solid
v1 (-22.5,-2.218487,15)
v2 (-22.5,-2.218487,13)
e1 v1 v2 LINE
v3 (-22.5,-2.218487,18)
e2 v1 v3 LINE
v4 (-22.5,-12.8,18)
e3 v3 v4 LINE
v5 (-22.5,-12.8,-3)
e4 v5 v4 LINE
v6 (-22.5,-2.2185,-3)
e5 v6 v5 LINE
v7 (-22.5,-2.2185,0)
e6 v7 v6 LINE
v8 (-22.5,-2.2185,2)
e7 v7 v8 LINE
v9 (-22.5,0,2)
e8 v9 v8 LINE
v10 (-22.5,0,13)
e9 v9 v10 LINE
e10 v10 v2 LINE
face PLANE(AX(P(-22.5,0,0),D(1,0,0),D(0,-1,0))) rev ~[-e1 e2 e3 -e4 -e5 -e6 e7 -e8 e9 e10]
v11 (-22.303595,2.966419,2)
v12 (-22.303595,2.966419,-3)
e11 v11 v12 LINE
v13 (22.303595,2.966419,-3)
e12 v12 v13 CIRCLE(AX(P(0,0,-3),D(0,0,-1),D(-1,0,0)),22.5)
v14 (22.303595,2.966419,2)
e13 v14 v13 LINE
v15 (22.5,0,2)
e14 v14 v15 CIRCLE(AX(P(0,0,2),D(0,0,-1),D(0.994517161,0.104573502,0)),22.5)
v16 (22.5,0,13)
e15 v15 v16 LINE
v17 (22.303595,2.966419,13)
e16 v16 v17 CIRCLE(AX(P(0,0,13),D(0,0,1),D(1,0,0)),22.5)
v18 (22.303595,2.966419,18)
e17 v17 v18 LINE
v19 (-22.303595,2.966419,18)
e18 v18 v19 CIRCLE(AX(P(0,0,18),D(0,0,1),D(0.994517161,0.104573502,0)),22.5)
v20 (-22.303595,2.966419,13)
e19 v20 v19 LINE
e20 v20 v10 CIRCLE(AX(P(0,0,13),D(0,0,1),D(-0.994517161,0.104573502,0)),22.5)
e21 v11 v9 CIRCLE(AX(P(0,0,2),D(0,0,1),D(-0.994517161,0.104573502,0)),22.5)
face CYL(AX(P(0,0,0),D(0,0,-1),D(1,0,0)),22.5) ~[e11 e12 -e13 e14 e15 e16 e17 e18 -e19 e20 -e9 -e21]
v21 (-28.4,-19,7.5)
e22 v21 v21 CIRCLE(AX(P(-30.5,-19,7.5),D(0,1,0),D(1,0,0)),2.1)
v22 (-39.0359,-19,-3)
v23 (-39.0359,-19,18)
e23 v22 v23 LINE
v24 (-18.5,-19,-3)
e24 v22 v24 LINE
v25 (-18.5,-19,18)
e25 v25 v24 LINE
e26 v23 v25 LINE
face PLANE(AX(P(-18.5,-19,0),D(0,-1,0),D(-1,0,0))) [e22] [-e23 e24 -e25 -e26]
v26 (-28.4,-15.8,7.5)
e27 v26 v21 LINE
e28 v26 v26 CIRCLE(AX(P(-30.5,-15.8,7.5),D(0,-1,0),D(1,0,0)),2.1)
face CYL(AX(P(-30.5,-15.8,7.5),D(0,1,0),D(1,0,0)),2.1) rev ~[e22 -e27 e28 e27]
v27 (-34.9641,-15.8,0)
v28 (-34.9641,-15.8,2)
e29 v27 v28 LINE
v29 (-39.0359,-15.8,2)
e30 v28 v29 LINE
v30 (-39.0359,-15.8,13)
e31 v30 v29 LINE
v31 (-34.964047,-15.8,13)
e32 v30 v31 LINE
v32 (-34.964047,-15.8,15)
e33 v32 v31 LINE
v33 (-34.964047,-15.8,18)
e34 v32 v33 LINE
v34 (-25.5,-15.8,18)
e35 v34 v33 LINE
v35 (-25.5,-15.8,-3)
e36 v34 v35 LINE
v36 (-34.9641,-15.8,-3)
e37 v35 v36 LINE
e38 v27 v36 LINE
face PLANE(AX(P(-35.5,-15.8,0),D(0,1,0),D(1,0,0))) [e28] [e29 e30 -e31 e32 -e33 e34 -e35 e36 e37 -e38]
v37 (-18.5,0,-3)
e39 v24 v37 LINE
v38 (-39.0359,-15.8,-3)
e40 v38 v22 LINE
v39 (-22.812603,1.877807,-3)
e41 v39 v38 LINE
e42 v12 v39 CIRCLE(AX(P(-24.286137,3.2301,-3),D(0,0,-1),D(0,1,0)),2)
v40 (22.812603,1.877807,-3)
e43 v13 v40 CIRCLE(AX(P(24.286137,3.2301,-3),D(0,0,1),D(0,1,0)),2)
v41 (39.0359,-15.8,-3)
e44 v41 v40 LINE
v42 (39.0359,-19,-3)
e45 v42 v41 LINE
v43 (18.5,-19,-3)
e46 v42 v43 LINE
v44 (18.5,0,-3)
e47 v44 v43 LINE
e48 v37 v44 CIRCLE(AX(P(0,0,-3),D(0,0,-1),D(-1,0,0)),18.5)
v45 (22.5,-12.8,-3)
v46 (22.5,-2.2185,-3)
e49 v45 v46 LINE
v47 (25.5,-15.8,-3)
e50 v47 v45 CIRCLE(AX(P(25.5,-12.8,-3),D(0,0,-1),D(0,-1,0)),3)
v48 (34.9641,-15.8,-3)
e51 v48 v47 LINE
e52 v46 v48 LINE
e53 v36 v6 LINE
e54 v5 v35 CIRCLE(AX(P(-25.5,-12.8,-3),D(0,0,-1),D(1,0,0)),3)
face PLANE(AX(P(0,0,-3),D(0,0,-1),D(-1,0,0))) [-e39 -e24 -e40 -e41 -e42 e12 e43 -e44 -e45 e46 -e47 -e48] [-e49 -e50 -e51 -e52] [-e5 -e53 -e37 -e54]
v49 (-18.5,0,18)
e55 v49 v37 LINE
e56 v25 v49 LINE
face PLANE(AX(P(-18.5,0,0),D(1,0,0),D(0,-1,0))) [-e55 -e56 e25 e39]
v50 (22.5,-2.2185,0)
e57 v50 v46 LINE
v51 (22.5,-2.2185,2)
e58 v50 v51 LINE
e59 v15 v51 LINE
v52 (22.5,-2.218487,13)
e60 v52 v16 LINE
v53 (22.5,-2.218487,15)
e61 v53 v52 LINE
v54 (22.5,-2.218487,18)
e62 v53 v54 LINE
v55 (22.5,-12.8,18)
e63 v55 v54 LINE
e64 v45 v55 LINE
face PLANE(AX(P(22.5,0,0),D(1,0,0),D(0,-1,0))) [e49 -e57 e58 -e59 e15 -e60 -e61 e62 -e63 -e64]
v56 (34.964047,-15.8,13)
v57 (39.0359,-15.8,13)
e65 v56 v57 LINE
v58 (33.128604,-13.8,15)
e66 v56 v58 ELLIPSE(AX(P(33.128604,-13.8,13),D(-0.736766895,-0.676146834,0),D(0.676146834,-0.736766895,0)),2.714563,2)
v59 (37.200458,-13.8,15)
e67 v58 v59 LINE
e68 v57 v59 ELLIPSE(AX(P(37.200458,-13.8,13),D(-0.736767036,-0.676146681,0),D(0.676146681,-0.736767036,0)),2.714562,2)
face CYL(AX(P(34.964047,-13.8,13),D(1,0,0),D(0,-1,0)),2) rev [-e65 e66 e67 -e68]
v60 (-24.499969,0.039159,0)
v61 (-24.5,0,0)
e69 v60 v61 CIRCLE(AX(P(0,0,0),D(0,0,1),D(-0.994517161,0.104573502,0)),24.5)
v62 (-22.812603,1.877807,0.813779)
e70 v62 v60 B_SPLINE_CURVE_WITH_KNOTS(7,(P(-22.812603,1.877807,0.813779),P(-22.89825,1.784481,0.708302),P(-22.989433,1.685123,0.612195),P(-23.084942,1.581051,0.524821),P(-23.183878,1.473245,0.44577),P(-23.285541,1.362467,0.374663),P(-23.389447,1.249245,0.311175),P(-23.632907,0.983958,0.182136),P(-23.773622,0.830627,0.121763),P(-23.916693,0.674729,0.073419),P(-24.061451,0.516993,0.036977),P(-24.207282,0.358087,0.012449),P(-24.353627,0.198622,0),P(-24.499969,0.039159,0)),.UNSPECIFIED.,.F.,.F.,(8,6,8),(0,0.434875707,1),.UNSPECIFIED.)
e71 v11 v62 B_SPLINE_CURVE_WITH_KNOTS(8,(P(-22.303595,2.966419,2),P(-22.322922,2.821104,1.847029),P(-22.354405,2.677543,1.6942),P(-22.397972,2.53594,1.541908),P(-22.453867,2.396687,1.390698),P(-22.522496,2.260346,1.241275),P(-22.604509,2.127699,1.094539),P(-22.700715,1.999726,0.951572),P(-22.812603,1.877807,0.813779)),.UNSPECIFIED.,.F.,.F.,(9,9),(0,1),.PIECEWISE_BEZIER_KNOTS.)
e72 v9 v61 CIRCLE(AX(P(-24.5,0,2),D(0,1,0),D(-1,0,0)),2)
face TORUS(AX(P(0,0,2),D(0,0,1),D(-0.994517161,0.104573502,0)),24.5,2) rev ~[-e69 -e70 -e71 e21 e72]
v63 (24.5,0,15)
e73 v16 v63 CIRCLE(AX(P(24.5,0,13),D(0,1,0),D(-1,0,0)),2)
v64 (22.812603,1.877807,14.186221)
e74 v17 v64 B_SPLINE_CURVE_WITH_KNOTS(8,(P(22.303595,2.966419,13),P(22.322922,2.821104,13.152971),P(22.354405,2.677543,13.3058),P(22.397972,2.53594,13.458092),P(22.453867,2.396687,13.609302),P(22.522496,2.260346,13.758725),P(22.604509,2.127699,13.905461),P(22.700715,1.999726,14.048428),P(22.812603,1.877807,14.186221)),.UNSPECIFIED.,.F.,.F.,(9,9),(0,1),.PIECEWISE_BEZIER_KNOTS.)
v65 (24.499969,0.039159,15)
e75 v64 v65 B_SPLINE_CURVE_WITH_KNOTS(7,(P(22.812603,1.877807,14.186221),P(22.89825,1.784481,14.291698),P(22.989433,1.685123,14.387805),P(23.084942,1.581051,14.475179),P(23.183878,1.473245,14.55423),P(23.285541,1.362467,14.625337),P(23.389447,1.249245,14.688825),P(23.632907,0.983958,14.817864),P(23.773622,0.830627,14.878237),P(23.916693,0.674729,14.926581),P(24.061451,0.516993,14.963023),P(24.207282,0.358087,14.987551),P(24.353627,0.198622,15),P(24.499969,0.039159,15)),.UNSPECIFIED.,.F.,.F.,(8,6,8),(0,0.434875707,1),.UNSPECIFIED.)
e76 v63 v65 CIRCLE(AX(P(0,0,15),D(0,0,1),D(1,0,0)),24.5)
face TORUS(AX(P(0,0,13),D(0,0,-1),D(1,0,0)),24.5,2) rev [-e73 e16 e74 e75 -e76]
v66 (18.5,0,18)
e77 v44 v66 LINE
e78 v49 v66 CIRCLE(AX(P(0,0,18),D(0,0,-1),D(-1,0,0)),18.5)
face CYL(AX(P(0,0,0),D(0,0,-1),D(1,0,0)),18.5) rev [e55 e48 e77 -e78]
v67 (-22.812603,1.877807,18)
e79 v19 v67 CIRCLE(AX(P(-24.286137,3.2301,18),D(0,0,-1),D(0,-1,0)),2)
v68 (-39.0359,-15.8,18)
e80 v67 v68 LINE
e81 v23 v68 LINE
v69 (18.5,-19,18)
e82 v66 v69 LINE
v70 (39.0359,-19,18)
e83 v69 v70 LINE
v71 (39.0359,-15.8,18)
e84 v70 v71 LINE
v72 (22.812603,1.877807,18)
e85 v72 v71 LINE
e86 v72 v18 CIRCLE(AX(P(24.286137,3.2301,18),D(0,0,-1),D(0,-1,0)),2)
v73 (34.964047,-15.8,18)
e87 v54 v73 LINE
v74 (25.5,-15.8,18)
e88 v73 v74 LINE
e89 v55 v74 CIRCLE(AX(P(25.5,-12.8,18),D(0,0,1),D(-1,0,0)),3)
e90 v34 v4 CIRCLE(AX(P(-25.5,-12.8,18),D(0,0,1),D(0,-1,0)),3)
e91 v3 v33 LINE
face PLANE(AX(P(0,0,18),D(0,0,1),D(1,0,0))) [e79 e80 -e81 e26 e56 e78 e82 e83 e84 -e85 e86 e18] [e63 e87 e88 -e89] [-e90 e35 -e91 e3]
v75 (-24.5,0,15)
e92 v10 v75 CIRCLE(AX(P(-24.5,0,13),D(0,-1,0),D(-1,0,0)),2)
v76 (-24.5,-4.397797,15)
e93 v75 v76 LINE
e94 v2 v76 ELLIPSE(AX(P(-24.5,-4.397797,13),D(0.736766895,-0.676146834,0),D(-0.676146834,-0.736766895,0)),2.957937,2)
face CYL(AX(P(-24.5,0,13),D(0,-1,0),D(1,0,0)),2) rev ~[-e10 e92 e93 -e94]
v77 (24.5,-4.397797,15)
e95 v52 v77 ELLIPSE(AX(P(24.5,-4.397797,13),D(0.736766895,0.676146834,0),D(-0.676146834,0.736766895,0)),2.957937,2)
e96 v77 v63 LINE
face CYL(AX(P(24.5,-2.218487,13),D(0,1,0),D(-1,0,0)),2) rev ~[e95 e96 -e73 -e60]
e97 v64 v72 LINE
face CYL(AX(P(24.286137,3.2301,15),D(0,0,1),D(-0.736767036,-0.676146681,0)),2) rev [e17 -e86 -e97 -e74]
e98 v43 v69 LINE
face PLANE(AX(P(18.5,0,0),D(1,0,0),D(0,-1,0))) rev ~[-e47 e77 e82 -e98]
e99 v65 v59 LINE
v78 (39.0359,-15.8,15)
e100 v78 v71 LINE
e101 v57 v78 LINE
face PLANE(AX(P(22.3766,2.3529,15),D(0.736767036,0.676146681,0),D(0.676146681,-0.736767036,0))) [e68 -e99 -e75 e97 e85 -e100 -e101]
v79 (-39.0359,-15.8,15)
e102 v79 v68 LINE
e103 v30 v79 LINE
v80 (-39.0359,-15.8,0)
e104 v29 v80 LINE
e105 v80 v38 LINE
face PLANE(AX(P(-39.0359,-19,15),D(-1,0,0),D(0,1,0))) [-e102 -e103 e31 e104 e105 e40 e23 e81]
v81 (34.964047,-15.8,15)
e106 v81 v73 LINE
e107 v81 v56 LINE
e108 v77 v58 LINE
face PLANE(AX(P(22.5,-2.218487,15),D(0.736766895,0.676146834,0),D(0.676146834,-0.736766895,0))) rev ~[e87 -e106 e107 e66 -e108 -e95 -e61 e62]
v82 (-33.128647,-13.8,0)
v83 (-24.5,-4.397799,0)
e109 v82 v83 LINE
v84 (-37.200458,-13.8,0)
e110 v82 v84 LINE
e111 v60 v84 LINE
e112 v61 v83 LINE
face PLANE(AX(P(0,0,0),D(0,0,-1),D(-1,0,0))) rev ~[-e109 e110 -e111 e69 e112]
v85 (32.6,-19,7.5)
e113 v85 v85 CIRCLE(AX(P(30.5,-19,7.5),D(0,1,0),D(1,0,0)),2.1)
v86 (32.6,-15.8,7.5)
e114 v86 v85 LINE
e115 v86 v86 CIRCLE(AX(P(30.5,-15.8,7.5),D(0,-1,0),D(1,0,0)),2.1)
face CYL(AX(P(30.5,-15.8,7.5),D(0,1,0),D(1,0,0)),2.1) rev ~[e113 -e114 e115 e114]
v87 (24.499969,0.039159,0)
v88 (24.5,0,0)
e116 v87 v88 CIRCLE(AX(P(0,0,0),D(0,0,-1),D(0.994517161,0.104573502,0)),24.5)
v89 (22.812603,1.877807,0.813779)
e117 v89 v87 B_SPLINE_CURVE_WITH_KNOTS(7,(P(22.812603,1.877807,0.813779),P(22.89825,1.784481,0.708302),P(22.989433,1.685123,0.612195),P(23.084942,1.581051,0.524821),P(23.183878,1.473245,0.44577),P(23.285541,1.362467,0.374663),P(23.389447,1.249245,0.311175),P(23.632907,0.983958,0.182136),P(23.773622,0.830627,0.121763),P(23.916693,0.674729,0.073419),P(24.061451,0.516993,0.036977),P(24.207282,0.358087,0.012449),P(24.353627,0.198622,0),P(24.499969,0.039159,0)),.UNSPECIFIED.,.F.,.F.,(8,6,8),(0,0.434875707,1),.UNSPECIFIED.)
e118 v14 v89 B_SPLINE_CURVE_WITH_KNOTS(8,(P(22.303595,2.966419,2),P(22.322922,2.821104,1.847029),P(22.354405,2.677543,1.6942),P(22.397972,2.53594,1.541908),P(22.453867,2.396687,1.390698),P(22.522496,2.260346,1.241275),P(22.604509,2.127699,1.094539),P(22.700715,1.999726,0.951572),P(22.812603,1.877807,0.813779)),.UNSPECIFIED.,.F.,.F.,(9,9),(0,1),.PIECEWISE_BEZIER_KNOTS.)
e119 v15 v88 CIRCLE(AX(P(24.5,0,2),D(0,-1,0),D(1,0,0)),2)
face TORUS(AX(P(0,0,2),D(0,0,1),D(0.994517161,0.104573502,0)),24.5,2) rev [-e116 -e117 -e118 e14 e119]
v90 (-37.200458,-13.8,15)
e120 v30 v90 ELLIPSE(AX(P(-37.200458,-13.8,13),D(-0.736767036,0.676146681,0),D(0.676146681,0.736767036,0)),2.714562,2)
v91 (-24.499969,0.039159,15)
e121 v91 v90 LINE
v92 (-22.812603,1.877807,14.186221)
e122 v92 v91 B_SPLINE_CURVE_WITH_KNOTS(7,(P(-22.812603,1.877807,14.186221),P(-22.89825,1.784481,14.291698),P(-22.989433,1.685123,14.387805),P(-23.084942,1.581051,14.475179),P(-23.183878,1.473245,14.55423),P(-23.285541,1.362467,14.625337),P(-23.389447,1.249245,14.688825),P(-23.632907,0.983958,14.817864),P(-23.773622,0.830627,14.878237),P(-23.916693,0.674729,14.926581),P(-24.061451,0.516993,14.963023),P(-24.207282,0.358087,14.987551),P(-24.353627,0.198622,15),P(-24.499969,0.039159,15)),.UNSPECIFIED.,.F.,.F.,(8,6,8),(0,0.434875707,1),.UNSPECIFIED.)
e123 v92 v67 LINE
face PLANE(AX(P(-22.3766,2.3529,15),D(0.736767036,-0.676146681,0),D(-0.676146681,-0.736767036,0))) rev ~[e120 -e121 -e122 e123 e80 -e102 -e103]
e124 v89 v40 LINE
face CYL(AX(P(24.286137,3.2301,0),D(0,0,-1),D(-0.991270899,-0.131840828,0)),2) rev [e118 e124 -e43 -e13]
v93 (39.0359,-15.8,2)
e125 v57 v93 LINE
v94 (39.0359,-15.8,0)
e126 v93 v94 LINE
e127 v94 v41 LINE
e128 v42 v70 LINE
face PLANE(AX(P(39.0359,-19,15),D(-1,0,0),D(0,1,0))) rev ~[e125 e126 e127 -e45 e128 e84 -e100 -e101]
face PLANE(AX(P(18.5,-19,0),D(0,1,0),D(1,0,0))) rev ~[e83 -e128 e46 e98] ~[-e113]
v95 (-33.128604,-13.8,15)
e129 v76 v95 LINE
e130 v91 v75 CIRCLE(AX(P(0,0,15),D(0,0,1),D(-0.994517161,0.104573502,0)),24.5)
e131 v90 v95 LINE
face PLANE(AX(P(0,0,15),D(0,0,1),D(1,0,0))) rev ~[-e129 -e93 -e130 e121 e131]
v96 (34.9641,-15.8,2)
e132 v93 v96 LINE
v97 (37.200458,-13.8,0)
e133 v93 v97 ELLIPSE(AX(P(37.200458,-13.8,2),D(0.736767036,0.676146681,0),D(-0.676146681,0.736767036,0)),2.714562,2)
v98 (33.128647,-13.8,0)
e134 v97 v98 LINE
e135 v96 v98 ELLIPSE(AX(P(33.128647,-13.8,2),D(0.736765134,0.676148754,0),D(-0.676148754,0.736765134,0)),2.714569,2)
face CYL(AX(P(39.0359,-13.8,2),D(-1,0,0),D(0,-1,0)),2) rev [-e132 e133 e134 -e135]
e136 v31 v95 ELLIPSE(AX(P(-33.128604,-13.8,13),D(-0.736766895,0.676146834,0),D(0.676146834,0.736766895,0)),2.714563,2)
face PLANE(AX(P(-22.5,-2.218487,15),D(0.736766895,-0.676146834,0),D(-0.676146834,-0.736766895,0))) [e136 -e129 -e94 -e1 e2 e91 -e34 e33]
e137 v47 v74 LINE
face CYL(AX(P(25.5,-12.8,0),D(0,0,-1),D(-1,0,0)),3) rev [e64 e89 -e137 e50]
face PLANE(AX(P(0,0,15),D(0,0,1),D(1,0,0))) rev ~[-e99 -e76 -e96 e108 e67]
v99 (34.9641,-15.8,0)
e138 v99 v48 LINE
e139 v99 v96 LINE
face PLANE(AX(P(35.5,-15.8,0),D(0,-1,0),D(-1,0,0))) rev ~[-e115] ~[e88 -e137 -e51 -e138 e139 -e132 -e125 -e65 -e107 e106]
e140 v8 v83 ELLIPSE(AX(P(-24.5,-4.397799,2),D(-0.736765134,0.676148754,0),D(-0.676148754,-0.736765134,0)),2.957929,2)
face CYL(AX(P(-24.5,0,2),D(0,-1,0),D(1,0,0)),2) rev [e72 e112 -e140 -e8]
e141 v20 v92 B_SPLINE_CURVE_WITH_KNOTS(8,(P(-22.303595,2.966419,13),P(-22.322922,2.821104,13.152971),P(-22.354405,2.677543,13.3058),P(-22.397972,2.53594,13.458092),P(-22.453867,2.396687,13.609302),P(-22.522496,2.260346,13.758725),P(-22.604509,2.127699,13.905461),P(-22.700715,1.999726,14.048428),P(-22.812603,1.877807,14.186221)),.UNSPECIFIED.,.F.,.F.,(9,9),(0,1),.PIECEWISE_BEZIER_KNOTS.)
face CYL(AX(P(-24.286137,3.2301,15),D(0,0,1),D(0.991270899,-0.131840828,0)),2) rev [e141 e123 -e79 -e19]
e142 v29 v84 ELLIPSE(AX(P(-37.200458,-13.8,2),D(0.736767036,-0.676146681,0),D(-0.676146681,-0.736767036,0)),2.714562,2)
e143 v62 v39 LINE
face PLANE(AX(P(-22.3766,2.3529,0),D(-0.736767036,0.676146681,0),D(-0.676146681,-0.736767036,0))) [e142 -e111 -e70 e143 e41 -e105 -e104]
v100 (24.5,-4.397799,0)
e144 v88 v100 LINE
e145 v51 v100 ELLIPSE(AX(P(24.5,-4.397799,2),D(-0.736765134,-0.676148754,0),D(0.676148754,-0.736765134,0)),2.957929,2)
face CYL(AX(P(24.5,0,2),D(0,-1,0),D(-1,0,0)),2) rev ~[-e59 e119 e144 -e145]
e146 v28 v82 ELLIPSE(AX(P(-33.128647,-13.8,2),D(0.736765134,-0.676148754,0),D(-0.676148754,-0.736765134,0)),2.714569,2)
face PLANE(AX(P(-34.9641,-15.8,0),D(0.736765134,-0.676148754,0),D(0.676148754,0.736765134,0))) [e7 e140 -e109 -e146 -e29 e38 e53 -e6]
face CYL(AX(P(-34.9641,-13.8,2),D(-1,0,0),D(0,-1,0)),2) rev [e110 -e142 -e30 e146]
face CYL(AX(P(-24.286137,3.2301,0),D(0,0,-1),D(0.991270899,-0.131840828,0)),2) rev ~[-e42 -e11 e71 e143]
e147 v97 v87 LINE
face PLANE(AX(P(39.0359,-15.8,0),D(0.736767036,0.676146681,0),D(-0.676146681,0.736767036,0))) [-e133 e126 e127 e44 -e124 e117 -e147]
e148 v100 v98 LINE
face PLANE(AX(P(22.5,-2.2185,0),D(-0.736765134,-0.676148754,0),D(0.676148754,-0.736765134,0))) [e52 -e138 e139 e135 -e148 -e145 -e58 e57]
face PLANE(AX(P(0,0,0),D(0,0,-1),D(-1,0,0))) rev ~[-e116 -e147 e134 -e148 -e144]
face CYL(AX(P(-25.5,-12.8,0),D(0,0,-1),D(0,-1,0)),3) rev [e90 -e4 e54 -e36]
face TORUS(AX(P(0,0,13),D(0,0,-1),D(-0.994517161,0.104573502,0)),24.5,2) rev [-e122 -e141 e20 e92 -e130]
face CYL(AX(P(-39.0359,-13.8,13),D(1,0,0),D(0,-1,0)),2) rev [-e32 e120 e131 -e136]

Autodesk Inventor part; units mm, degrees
ref_plane "YZ Plane" through (0, 0, 0) normal (1, 0, 0) x (0, 1, 0)
ref_plane "XZ Plane" through (0, 0, 0) normal (0, 1, 0) x (-1, 0, 0)
ref_plane "XY Plane" through (0, 0, 0) normal (0, 0, 1) x (1, 0, 0)
sketch "Эскиз1" plane through (0, 0, 0) normal (0, 0, 1) x (1, 0, 0)
  arc A0 (18.5, 0) -> (-18.5, 0) centre (0, 0) ccw
  line L0 (-22.5, 0) -> (22.5, 0)
  arc A1 (22.5, 0) -> (-22.5, 0) centre (0, 0) ccw
  line L1 (-22.5, 0) -> (-22.5, -12.8)
  line L2 (-22.5, -19) -> (-35.5, -19)
  line L3 (-35.5, -19) -> (-35.5, -15.8)
  line L4 (-35.5, -15.8) -> (-25.5, -15.8)
  arc A2 (-25.5, -15.8) -> (-22.5, -12.8) centre (-25.5, -12.8) ccw
  line L5 (-18.5, 0) -> (-18.5, -19)
  line L6 (-18.5, -19) -> (-22.5, -19)
  line L7 (0, 0) -> (0, 6.7823)
  line L8 (22.5, 0) -> (22.5, -12.8)
  line L9 (22.5, -19) -> (35.5, -19)
  line L10 (35.5, -19) -> (35.5, -15.8)
  line L11 (35.5, -15.8) -> (25.5, -15.8)
  arc A3 (22.5, -12.8) -> (25.5, -15.8) centre (25.5, -12.8) ccw
  line L12 (18.5, 0) -> (18.5, -19)
  line L13 (18.5, -19) -> (22.5, -19)
  dimension "d0" = 37
  dimension "d1" = 45
  dimension "d2" = 13
  dimension "d3" = 3.2
  dimension "d4" = 3
extrude "Выдавливание1" add sketch "Эскиз1" along normal blind 15 contours A0 L0 A1 | L0 L8 A3 L11 L10 L9 L13 L12 | L5 L6 L2 L3 L4 A2 L1 L0
sketch "Эскиз2" plane through (-35.5, -15.8, 0) normal (0, 1, 0) x (1, 0, 0)
  line L0 (71, 0) -> (61, 0) projected
  line L1 (61, 0) -> (61, -15) projected
  line L2 (71, -15) -> (61, -15) projected
  line L3 (71, 0) -> (71, -15) projected
  line L4 (71, -7.5) -> (0, -7.5)
  line L5 (0, 0) -> (0, -15) projected
  line L6 (10, 0) -> (0, 0) projected
  line L7 (10, 0) -> (10, -15) projected
  line L8 (10, -15) -> (0, -15) projected
  line L9 (5, -15) -> (5, 0)
  circle A0 centre (5, -7.5) radius 2.1
  line L10 (35.5, 0) -> (35.5, -25.4)
  circle A1 centre (66, -7.5) radius 2.1
  dimension "d7" = 4.2
extrude "Выдавливание2" cut sketch "Эскиз2" against normal blind 20 contours A1 L4 | L4 A1 | A0 L9 L4 | L4 L9 A0 | L9 A0 L4 | L4 A0 L9
sketch "Эскиз3" plane through (0, 0, 15) normal (0, 0, 1) x (1, 0, 0)
  line L0 (35.5, -15.8) -> (39.0359, -15.8)
  line L1 (22.5, 0) -> (37, -15.8)
  line L2 (21.3948, -1.0142) -> (35.8948, -16.8142)
  line L3 (22.3766, 2.3529) -> (39.0359, -15.8)
  line L4 (-18.5, -19) -> (-18.5, 0) projected
  arc A0 (18.5, 0) -> (-18.5, 0) centre (0, 0) ccw projected
  line L5 (18.5, 0) -> (18.5, -19) projected
  line L6 (18.5, -19) -> (35.5, -19) projected
  line L7 (35.5, -19) -> (35.5, -15.8) projected
  line L8 (35.5, -15.8) -> (25.5, -15.8) projected
  arc A1 (22.5, -12.8) -> (25.5, -15.8) centre (25.5, -12.8) ccw projected
  line L9 (22.5, -12.8) -> (22.5, 0) projected
  arc A2 (22.5, 0) -> (-22.5, 0) centre (0, 0) ccw projected
  line L10 (-22.5, 0) -> (-22.5, -12.8) projected
  arc A3 (-25.5, -15.8) -> (-22.5, -12.8) centre (-25.5, -12.8) ccw projected
  line L11 (-25.5, -15.8) -> (-35.5, -15.8) projected
  line L12 (-35.5, -15.8) -> (-35.5, -19) projected
  line L13 (-35.5, -19) -> (-18.5, -19) projected
  line L14 (39.0359, -15.8) -> (35.5, -15.8)
  line L15 (35.5, -15.8) -> (35.5, -19)
  line L16 (35.5, -19) -> (39.0359, -19)
  line L17 (39.0359, -19) -> (39.0359, -15.8)
  line L18 (0, 0) -> (0, 30.1625)
  line L19 (-35.5, -15.8) -> (-39.0359, -15.8)
  line L20 (-22.5, 0) -> (-37, -15.8)
  line L21 (-21.3948, -1.0142) -> (-35.8948, -16.8142)
  line L22 (-22.3766, 2.3529) -> (-39.0359, -15.8)
  line L23 (-18.5, 0) -> (-18.5, -19)
  line L24 (-18.5, -19) -> (-35.5, -19)
  line L25 (-35.5, -19) -> (-35.5, -15.8)
  line L26 (-35.5, -15.8) -> (-25.5, -15.8)
  arc A4 (-25.5, -15.8) -> (-22.5, -12.8) centre (-25.5, -12.8) ccw
  line L27 (-22.5, -12.8) -> (-22.5, 0)
  line L28 (-39.0359, -15.8) -> (-35.5, -15.8)
  line L29 (-35.5, -15.8) -> (-35.5, -19)
  line L30 (-35.5, -19) -> (-39.0359, -19)
  line L31 (-39.0359, -19) -> (-39.0359, -15.8)
  point P0 (22.5, -2.2185)
  point P1 (34.9641, -15.8)
  point P2 (35.5, -16.384)
  point P3 (-34.9641, -15.8)
  point P4 (-22.5, -2.2185)
  dimension "d11" = 1.5
  dimension "d12" = 1.5
extrude "Выдавливание3" add sketch "Эскиз3" along normal blind 3 contours L8 L2 L9 L1 L0 | L0 L17 L16 L7 | L7 L2 L8 | L1 A2 L3 L0 | L7 L6 L5 A0 L18 A2 L9 A1 L8 L2 | L18 A0 L4 L13 L12 L21 L11 A3 L10 A2 | A2 L20 L19 L22 | L10 L21 L11 L19 L20 | L19 L12 L30 L31 | L21 L12 L11
sketch "Эскиз4" plane through (0, 0, 0) normal (0, 0, -1) x (-1, 0, 0)
  line L0 (18.5, -19) -> (18.5, 0) projected
  line L1 (35.5, -19) -> (18.5, -19) projected
  line L2 (35.5, -15.8) -> (35.5, -19) projected
  line L3 (25.5, -15.8) -> (35.5, -15.8) projected
  arc A0 (22.5, -12.8) -> (25.5, -15.8) centre (25.5, -12.8) ccw projected
  line L4 (22.5, 0) -> (22.5, -12.8) projected
  arc A1 (22.5, 0) -> (-22.5, 0) centre (0, 0) ccw projected
  line L5 (-22.5, -12.8) -> (-22.5, 0) projected
  arc A2 (-25.5, -15.8) -> (-22.5, -12.8) centre (-25.5, -12.8) ccw projected
  line L6 (-35.5, -15.8) -> (-25.5, -15.8) projected
  line L7 (-35.5, -19) -> (-35.5, -15.8) projected
  line L8 (-18.5, -19) -> (-35.5, -19) projected
  line L9 (-18.5, 0) -> (-18.5, -19) projected
  arc A3 (18.5, 0) -> (-18.5, 0) centre (0, 0) ccw projected
  line L10 (-35.5, -19) -> (-35.5, -15.8) projected
  line L11 (-35.5, -15.8) -> (-34.9641, -15.8) projected
  line L12 (-22.5, -2.2185) -> (-34.9641, -15.8) projected
  line L13 (-22.5, -2.2185) -> (-22.5, 0) projected
  arc A4 (-22.3766, 2.3529) -> (-22.5, 0) centre (0, 0) ccw projected
  line L14 (-39.0359, -15.8) -> (-22.3766, 2.3529) projected
  line L15 (-39.0359, -19) -> (-39.0359, -15.8) projected
  line L16 (-35.5, -19) -> (-39.0359, -19) projected
  line L17 (35.5, -15.8) -> (35.5, -19) projected
  line L18 (39.0359, -19) -> (35.5, -19) projected
  line L19 (39.0359, -15.8) -> (39.0359, -19) projected
  line L20 (22.3766, 2.3529) -> (39.0359, -15.8) projected
  arc A5 (22.5, 0) -> (22.3766, 2.3529) centre (0, 0) ccw projected
  line L21 (22.5, 0) -> (22.5, -2.2185) projected
  line L22 (34.9641, -15.8) -> (22.5, -2.2185) projected
  line L23 (34.9641, -15.8) -> (35.5, -15.8) projected
  point P0 (-22.3766, 2.3529)
extrude "Выдавливание4" add sketch "Эскиз4" along normal blind 3 contours L0 A3 L9 L8 L7 L6 A2 L5 A1 L4 A0 L3 L2 L1 | L2 L3 L22 L4 A1 L20 L19 L18 | L16 L15 L14 A1 L5 L12 L6 L7
sketch "Эскиз5" plane through (0, 0, 15) normal (0, 0, -1) x (-1, 0, 0)
  line L0 (-35.5, -19) -> (-35.5, -15.8) projected
  line L1 (-35.5, -15.8) -> (-34.9641, -15.8) projected
  line L2 (-22.5, -2.2185) -> (-34.9641, -15.8) projected
  line L3 (-22.5, -2.2185) -> (-22.5, 0) projected
  arc A0 (-22.3766, 2.3529) -> (-22.5, 0) centre (0, 0) ccw projected
  line L4 (-39.0359, -15.8) -> (-22.3766, 2.3529) projected
  line L5 (-39.0359, -19) -> (-39.0359, -15.8) projected
  line L6 (-35.5, -19) -> (-39.0359, -19) projected
  line L7 (35.5, -15.8) -> (35.5, -19) projected
  line L8 (39.0359, -19) -> (35.5, -19) projected
  line L9 (39.0359, -15.8) -> (39.0359, -19) projected
  line L10 (22.3766, 2.3529) -> (39.0359, -15.8) projected
  arc A1 (22.5, 0) -> (22.3766, 2.3529) centre (0, 0) ccw projected
  line L11 (22.5, 0) -> (22.5, -2.2185) projected
  line L12 (34.9641, -15.8) -> (22.5, -2.2185) projected
  line L13 (34.9641, -15.8) -> (35.5, -15.8) projected
  line L14 (39.0359, -15.8) -> (-39.0359, -15.8)
  line L15 (-18.5, -19) -> (-39.0359, -19) projected
extrude "Выдавливание5" add sketch "Эскиз5" along normal up to surface (15 mm away) contours L6 L5 L14 L0 | L14 L9 L8 L7
fillet "Сопряжение1" radius 2 16 edges at (-37, -15.8, 15) (-37, -15.8, 0) (-22.5, -1.1092, 0) (-22.4691, 1.1781, 0) (-22.5, -1.1092, 15) (-22.4691, 1.1781, 15) (22.3766, 2.3529, 16.5) (22.3766, 2.3529, -1.5) (22.5, -1.1092, 0) (22.4691, 1.1781, 0) (37, -15.8, 0) (37, -15.8, 15) (22.4691, 1.1781, 15) (22.5, -1.1092, 15) (-22.3766, 2.3529, 16.5) (-22.3766, 2.3529, -1.5)
properties part number "доп крепл мотора 25-26"
